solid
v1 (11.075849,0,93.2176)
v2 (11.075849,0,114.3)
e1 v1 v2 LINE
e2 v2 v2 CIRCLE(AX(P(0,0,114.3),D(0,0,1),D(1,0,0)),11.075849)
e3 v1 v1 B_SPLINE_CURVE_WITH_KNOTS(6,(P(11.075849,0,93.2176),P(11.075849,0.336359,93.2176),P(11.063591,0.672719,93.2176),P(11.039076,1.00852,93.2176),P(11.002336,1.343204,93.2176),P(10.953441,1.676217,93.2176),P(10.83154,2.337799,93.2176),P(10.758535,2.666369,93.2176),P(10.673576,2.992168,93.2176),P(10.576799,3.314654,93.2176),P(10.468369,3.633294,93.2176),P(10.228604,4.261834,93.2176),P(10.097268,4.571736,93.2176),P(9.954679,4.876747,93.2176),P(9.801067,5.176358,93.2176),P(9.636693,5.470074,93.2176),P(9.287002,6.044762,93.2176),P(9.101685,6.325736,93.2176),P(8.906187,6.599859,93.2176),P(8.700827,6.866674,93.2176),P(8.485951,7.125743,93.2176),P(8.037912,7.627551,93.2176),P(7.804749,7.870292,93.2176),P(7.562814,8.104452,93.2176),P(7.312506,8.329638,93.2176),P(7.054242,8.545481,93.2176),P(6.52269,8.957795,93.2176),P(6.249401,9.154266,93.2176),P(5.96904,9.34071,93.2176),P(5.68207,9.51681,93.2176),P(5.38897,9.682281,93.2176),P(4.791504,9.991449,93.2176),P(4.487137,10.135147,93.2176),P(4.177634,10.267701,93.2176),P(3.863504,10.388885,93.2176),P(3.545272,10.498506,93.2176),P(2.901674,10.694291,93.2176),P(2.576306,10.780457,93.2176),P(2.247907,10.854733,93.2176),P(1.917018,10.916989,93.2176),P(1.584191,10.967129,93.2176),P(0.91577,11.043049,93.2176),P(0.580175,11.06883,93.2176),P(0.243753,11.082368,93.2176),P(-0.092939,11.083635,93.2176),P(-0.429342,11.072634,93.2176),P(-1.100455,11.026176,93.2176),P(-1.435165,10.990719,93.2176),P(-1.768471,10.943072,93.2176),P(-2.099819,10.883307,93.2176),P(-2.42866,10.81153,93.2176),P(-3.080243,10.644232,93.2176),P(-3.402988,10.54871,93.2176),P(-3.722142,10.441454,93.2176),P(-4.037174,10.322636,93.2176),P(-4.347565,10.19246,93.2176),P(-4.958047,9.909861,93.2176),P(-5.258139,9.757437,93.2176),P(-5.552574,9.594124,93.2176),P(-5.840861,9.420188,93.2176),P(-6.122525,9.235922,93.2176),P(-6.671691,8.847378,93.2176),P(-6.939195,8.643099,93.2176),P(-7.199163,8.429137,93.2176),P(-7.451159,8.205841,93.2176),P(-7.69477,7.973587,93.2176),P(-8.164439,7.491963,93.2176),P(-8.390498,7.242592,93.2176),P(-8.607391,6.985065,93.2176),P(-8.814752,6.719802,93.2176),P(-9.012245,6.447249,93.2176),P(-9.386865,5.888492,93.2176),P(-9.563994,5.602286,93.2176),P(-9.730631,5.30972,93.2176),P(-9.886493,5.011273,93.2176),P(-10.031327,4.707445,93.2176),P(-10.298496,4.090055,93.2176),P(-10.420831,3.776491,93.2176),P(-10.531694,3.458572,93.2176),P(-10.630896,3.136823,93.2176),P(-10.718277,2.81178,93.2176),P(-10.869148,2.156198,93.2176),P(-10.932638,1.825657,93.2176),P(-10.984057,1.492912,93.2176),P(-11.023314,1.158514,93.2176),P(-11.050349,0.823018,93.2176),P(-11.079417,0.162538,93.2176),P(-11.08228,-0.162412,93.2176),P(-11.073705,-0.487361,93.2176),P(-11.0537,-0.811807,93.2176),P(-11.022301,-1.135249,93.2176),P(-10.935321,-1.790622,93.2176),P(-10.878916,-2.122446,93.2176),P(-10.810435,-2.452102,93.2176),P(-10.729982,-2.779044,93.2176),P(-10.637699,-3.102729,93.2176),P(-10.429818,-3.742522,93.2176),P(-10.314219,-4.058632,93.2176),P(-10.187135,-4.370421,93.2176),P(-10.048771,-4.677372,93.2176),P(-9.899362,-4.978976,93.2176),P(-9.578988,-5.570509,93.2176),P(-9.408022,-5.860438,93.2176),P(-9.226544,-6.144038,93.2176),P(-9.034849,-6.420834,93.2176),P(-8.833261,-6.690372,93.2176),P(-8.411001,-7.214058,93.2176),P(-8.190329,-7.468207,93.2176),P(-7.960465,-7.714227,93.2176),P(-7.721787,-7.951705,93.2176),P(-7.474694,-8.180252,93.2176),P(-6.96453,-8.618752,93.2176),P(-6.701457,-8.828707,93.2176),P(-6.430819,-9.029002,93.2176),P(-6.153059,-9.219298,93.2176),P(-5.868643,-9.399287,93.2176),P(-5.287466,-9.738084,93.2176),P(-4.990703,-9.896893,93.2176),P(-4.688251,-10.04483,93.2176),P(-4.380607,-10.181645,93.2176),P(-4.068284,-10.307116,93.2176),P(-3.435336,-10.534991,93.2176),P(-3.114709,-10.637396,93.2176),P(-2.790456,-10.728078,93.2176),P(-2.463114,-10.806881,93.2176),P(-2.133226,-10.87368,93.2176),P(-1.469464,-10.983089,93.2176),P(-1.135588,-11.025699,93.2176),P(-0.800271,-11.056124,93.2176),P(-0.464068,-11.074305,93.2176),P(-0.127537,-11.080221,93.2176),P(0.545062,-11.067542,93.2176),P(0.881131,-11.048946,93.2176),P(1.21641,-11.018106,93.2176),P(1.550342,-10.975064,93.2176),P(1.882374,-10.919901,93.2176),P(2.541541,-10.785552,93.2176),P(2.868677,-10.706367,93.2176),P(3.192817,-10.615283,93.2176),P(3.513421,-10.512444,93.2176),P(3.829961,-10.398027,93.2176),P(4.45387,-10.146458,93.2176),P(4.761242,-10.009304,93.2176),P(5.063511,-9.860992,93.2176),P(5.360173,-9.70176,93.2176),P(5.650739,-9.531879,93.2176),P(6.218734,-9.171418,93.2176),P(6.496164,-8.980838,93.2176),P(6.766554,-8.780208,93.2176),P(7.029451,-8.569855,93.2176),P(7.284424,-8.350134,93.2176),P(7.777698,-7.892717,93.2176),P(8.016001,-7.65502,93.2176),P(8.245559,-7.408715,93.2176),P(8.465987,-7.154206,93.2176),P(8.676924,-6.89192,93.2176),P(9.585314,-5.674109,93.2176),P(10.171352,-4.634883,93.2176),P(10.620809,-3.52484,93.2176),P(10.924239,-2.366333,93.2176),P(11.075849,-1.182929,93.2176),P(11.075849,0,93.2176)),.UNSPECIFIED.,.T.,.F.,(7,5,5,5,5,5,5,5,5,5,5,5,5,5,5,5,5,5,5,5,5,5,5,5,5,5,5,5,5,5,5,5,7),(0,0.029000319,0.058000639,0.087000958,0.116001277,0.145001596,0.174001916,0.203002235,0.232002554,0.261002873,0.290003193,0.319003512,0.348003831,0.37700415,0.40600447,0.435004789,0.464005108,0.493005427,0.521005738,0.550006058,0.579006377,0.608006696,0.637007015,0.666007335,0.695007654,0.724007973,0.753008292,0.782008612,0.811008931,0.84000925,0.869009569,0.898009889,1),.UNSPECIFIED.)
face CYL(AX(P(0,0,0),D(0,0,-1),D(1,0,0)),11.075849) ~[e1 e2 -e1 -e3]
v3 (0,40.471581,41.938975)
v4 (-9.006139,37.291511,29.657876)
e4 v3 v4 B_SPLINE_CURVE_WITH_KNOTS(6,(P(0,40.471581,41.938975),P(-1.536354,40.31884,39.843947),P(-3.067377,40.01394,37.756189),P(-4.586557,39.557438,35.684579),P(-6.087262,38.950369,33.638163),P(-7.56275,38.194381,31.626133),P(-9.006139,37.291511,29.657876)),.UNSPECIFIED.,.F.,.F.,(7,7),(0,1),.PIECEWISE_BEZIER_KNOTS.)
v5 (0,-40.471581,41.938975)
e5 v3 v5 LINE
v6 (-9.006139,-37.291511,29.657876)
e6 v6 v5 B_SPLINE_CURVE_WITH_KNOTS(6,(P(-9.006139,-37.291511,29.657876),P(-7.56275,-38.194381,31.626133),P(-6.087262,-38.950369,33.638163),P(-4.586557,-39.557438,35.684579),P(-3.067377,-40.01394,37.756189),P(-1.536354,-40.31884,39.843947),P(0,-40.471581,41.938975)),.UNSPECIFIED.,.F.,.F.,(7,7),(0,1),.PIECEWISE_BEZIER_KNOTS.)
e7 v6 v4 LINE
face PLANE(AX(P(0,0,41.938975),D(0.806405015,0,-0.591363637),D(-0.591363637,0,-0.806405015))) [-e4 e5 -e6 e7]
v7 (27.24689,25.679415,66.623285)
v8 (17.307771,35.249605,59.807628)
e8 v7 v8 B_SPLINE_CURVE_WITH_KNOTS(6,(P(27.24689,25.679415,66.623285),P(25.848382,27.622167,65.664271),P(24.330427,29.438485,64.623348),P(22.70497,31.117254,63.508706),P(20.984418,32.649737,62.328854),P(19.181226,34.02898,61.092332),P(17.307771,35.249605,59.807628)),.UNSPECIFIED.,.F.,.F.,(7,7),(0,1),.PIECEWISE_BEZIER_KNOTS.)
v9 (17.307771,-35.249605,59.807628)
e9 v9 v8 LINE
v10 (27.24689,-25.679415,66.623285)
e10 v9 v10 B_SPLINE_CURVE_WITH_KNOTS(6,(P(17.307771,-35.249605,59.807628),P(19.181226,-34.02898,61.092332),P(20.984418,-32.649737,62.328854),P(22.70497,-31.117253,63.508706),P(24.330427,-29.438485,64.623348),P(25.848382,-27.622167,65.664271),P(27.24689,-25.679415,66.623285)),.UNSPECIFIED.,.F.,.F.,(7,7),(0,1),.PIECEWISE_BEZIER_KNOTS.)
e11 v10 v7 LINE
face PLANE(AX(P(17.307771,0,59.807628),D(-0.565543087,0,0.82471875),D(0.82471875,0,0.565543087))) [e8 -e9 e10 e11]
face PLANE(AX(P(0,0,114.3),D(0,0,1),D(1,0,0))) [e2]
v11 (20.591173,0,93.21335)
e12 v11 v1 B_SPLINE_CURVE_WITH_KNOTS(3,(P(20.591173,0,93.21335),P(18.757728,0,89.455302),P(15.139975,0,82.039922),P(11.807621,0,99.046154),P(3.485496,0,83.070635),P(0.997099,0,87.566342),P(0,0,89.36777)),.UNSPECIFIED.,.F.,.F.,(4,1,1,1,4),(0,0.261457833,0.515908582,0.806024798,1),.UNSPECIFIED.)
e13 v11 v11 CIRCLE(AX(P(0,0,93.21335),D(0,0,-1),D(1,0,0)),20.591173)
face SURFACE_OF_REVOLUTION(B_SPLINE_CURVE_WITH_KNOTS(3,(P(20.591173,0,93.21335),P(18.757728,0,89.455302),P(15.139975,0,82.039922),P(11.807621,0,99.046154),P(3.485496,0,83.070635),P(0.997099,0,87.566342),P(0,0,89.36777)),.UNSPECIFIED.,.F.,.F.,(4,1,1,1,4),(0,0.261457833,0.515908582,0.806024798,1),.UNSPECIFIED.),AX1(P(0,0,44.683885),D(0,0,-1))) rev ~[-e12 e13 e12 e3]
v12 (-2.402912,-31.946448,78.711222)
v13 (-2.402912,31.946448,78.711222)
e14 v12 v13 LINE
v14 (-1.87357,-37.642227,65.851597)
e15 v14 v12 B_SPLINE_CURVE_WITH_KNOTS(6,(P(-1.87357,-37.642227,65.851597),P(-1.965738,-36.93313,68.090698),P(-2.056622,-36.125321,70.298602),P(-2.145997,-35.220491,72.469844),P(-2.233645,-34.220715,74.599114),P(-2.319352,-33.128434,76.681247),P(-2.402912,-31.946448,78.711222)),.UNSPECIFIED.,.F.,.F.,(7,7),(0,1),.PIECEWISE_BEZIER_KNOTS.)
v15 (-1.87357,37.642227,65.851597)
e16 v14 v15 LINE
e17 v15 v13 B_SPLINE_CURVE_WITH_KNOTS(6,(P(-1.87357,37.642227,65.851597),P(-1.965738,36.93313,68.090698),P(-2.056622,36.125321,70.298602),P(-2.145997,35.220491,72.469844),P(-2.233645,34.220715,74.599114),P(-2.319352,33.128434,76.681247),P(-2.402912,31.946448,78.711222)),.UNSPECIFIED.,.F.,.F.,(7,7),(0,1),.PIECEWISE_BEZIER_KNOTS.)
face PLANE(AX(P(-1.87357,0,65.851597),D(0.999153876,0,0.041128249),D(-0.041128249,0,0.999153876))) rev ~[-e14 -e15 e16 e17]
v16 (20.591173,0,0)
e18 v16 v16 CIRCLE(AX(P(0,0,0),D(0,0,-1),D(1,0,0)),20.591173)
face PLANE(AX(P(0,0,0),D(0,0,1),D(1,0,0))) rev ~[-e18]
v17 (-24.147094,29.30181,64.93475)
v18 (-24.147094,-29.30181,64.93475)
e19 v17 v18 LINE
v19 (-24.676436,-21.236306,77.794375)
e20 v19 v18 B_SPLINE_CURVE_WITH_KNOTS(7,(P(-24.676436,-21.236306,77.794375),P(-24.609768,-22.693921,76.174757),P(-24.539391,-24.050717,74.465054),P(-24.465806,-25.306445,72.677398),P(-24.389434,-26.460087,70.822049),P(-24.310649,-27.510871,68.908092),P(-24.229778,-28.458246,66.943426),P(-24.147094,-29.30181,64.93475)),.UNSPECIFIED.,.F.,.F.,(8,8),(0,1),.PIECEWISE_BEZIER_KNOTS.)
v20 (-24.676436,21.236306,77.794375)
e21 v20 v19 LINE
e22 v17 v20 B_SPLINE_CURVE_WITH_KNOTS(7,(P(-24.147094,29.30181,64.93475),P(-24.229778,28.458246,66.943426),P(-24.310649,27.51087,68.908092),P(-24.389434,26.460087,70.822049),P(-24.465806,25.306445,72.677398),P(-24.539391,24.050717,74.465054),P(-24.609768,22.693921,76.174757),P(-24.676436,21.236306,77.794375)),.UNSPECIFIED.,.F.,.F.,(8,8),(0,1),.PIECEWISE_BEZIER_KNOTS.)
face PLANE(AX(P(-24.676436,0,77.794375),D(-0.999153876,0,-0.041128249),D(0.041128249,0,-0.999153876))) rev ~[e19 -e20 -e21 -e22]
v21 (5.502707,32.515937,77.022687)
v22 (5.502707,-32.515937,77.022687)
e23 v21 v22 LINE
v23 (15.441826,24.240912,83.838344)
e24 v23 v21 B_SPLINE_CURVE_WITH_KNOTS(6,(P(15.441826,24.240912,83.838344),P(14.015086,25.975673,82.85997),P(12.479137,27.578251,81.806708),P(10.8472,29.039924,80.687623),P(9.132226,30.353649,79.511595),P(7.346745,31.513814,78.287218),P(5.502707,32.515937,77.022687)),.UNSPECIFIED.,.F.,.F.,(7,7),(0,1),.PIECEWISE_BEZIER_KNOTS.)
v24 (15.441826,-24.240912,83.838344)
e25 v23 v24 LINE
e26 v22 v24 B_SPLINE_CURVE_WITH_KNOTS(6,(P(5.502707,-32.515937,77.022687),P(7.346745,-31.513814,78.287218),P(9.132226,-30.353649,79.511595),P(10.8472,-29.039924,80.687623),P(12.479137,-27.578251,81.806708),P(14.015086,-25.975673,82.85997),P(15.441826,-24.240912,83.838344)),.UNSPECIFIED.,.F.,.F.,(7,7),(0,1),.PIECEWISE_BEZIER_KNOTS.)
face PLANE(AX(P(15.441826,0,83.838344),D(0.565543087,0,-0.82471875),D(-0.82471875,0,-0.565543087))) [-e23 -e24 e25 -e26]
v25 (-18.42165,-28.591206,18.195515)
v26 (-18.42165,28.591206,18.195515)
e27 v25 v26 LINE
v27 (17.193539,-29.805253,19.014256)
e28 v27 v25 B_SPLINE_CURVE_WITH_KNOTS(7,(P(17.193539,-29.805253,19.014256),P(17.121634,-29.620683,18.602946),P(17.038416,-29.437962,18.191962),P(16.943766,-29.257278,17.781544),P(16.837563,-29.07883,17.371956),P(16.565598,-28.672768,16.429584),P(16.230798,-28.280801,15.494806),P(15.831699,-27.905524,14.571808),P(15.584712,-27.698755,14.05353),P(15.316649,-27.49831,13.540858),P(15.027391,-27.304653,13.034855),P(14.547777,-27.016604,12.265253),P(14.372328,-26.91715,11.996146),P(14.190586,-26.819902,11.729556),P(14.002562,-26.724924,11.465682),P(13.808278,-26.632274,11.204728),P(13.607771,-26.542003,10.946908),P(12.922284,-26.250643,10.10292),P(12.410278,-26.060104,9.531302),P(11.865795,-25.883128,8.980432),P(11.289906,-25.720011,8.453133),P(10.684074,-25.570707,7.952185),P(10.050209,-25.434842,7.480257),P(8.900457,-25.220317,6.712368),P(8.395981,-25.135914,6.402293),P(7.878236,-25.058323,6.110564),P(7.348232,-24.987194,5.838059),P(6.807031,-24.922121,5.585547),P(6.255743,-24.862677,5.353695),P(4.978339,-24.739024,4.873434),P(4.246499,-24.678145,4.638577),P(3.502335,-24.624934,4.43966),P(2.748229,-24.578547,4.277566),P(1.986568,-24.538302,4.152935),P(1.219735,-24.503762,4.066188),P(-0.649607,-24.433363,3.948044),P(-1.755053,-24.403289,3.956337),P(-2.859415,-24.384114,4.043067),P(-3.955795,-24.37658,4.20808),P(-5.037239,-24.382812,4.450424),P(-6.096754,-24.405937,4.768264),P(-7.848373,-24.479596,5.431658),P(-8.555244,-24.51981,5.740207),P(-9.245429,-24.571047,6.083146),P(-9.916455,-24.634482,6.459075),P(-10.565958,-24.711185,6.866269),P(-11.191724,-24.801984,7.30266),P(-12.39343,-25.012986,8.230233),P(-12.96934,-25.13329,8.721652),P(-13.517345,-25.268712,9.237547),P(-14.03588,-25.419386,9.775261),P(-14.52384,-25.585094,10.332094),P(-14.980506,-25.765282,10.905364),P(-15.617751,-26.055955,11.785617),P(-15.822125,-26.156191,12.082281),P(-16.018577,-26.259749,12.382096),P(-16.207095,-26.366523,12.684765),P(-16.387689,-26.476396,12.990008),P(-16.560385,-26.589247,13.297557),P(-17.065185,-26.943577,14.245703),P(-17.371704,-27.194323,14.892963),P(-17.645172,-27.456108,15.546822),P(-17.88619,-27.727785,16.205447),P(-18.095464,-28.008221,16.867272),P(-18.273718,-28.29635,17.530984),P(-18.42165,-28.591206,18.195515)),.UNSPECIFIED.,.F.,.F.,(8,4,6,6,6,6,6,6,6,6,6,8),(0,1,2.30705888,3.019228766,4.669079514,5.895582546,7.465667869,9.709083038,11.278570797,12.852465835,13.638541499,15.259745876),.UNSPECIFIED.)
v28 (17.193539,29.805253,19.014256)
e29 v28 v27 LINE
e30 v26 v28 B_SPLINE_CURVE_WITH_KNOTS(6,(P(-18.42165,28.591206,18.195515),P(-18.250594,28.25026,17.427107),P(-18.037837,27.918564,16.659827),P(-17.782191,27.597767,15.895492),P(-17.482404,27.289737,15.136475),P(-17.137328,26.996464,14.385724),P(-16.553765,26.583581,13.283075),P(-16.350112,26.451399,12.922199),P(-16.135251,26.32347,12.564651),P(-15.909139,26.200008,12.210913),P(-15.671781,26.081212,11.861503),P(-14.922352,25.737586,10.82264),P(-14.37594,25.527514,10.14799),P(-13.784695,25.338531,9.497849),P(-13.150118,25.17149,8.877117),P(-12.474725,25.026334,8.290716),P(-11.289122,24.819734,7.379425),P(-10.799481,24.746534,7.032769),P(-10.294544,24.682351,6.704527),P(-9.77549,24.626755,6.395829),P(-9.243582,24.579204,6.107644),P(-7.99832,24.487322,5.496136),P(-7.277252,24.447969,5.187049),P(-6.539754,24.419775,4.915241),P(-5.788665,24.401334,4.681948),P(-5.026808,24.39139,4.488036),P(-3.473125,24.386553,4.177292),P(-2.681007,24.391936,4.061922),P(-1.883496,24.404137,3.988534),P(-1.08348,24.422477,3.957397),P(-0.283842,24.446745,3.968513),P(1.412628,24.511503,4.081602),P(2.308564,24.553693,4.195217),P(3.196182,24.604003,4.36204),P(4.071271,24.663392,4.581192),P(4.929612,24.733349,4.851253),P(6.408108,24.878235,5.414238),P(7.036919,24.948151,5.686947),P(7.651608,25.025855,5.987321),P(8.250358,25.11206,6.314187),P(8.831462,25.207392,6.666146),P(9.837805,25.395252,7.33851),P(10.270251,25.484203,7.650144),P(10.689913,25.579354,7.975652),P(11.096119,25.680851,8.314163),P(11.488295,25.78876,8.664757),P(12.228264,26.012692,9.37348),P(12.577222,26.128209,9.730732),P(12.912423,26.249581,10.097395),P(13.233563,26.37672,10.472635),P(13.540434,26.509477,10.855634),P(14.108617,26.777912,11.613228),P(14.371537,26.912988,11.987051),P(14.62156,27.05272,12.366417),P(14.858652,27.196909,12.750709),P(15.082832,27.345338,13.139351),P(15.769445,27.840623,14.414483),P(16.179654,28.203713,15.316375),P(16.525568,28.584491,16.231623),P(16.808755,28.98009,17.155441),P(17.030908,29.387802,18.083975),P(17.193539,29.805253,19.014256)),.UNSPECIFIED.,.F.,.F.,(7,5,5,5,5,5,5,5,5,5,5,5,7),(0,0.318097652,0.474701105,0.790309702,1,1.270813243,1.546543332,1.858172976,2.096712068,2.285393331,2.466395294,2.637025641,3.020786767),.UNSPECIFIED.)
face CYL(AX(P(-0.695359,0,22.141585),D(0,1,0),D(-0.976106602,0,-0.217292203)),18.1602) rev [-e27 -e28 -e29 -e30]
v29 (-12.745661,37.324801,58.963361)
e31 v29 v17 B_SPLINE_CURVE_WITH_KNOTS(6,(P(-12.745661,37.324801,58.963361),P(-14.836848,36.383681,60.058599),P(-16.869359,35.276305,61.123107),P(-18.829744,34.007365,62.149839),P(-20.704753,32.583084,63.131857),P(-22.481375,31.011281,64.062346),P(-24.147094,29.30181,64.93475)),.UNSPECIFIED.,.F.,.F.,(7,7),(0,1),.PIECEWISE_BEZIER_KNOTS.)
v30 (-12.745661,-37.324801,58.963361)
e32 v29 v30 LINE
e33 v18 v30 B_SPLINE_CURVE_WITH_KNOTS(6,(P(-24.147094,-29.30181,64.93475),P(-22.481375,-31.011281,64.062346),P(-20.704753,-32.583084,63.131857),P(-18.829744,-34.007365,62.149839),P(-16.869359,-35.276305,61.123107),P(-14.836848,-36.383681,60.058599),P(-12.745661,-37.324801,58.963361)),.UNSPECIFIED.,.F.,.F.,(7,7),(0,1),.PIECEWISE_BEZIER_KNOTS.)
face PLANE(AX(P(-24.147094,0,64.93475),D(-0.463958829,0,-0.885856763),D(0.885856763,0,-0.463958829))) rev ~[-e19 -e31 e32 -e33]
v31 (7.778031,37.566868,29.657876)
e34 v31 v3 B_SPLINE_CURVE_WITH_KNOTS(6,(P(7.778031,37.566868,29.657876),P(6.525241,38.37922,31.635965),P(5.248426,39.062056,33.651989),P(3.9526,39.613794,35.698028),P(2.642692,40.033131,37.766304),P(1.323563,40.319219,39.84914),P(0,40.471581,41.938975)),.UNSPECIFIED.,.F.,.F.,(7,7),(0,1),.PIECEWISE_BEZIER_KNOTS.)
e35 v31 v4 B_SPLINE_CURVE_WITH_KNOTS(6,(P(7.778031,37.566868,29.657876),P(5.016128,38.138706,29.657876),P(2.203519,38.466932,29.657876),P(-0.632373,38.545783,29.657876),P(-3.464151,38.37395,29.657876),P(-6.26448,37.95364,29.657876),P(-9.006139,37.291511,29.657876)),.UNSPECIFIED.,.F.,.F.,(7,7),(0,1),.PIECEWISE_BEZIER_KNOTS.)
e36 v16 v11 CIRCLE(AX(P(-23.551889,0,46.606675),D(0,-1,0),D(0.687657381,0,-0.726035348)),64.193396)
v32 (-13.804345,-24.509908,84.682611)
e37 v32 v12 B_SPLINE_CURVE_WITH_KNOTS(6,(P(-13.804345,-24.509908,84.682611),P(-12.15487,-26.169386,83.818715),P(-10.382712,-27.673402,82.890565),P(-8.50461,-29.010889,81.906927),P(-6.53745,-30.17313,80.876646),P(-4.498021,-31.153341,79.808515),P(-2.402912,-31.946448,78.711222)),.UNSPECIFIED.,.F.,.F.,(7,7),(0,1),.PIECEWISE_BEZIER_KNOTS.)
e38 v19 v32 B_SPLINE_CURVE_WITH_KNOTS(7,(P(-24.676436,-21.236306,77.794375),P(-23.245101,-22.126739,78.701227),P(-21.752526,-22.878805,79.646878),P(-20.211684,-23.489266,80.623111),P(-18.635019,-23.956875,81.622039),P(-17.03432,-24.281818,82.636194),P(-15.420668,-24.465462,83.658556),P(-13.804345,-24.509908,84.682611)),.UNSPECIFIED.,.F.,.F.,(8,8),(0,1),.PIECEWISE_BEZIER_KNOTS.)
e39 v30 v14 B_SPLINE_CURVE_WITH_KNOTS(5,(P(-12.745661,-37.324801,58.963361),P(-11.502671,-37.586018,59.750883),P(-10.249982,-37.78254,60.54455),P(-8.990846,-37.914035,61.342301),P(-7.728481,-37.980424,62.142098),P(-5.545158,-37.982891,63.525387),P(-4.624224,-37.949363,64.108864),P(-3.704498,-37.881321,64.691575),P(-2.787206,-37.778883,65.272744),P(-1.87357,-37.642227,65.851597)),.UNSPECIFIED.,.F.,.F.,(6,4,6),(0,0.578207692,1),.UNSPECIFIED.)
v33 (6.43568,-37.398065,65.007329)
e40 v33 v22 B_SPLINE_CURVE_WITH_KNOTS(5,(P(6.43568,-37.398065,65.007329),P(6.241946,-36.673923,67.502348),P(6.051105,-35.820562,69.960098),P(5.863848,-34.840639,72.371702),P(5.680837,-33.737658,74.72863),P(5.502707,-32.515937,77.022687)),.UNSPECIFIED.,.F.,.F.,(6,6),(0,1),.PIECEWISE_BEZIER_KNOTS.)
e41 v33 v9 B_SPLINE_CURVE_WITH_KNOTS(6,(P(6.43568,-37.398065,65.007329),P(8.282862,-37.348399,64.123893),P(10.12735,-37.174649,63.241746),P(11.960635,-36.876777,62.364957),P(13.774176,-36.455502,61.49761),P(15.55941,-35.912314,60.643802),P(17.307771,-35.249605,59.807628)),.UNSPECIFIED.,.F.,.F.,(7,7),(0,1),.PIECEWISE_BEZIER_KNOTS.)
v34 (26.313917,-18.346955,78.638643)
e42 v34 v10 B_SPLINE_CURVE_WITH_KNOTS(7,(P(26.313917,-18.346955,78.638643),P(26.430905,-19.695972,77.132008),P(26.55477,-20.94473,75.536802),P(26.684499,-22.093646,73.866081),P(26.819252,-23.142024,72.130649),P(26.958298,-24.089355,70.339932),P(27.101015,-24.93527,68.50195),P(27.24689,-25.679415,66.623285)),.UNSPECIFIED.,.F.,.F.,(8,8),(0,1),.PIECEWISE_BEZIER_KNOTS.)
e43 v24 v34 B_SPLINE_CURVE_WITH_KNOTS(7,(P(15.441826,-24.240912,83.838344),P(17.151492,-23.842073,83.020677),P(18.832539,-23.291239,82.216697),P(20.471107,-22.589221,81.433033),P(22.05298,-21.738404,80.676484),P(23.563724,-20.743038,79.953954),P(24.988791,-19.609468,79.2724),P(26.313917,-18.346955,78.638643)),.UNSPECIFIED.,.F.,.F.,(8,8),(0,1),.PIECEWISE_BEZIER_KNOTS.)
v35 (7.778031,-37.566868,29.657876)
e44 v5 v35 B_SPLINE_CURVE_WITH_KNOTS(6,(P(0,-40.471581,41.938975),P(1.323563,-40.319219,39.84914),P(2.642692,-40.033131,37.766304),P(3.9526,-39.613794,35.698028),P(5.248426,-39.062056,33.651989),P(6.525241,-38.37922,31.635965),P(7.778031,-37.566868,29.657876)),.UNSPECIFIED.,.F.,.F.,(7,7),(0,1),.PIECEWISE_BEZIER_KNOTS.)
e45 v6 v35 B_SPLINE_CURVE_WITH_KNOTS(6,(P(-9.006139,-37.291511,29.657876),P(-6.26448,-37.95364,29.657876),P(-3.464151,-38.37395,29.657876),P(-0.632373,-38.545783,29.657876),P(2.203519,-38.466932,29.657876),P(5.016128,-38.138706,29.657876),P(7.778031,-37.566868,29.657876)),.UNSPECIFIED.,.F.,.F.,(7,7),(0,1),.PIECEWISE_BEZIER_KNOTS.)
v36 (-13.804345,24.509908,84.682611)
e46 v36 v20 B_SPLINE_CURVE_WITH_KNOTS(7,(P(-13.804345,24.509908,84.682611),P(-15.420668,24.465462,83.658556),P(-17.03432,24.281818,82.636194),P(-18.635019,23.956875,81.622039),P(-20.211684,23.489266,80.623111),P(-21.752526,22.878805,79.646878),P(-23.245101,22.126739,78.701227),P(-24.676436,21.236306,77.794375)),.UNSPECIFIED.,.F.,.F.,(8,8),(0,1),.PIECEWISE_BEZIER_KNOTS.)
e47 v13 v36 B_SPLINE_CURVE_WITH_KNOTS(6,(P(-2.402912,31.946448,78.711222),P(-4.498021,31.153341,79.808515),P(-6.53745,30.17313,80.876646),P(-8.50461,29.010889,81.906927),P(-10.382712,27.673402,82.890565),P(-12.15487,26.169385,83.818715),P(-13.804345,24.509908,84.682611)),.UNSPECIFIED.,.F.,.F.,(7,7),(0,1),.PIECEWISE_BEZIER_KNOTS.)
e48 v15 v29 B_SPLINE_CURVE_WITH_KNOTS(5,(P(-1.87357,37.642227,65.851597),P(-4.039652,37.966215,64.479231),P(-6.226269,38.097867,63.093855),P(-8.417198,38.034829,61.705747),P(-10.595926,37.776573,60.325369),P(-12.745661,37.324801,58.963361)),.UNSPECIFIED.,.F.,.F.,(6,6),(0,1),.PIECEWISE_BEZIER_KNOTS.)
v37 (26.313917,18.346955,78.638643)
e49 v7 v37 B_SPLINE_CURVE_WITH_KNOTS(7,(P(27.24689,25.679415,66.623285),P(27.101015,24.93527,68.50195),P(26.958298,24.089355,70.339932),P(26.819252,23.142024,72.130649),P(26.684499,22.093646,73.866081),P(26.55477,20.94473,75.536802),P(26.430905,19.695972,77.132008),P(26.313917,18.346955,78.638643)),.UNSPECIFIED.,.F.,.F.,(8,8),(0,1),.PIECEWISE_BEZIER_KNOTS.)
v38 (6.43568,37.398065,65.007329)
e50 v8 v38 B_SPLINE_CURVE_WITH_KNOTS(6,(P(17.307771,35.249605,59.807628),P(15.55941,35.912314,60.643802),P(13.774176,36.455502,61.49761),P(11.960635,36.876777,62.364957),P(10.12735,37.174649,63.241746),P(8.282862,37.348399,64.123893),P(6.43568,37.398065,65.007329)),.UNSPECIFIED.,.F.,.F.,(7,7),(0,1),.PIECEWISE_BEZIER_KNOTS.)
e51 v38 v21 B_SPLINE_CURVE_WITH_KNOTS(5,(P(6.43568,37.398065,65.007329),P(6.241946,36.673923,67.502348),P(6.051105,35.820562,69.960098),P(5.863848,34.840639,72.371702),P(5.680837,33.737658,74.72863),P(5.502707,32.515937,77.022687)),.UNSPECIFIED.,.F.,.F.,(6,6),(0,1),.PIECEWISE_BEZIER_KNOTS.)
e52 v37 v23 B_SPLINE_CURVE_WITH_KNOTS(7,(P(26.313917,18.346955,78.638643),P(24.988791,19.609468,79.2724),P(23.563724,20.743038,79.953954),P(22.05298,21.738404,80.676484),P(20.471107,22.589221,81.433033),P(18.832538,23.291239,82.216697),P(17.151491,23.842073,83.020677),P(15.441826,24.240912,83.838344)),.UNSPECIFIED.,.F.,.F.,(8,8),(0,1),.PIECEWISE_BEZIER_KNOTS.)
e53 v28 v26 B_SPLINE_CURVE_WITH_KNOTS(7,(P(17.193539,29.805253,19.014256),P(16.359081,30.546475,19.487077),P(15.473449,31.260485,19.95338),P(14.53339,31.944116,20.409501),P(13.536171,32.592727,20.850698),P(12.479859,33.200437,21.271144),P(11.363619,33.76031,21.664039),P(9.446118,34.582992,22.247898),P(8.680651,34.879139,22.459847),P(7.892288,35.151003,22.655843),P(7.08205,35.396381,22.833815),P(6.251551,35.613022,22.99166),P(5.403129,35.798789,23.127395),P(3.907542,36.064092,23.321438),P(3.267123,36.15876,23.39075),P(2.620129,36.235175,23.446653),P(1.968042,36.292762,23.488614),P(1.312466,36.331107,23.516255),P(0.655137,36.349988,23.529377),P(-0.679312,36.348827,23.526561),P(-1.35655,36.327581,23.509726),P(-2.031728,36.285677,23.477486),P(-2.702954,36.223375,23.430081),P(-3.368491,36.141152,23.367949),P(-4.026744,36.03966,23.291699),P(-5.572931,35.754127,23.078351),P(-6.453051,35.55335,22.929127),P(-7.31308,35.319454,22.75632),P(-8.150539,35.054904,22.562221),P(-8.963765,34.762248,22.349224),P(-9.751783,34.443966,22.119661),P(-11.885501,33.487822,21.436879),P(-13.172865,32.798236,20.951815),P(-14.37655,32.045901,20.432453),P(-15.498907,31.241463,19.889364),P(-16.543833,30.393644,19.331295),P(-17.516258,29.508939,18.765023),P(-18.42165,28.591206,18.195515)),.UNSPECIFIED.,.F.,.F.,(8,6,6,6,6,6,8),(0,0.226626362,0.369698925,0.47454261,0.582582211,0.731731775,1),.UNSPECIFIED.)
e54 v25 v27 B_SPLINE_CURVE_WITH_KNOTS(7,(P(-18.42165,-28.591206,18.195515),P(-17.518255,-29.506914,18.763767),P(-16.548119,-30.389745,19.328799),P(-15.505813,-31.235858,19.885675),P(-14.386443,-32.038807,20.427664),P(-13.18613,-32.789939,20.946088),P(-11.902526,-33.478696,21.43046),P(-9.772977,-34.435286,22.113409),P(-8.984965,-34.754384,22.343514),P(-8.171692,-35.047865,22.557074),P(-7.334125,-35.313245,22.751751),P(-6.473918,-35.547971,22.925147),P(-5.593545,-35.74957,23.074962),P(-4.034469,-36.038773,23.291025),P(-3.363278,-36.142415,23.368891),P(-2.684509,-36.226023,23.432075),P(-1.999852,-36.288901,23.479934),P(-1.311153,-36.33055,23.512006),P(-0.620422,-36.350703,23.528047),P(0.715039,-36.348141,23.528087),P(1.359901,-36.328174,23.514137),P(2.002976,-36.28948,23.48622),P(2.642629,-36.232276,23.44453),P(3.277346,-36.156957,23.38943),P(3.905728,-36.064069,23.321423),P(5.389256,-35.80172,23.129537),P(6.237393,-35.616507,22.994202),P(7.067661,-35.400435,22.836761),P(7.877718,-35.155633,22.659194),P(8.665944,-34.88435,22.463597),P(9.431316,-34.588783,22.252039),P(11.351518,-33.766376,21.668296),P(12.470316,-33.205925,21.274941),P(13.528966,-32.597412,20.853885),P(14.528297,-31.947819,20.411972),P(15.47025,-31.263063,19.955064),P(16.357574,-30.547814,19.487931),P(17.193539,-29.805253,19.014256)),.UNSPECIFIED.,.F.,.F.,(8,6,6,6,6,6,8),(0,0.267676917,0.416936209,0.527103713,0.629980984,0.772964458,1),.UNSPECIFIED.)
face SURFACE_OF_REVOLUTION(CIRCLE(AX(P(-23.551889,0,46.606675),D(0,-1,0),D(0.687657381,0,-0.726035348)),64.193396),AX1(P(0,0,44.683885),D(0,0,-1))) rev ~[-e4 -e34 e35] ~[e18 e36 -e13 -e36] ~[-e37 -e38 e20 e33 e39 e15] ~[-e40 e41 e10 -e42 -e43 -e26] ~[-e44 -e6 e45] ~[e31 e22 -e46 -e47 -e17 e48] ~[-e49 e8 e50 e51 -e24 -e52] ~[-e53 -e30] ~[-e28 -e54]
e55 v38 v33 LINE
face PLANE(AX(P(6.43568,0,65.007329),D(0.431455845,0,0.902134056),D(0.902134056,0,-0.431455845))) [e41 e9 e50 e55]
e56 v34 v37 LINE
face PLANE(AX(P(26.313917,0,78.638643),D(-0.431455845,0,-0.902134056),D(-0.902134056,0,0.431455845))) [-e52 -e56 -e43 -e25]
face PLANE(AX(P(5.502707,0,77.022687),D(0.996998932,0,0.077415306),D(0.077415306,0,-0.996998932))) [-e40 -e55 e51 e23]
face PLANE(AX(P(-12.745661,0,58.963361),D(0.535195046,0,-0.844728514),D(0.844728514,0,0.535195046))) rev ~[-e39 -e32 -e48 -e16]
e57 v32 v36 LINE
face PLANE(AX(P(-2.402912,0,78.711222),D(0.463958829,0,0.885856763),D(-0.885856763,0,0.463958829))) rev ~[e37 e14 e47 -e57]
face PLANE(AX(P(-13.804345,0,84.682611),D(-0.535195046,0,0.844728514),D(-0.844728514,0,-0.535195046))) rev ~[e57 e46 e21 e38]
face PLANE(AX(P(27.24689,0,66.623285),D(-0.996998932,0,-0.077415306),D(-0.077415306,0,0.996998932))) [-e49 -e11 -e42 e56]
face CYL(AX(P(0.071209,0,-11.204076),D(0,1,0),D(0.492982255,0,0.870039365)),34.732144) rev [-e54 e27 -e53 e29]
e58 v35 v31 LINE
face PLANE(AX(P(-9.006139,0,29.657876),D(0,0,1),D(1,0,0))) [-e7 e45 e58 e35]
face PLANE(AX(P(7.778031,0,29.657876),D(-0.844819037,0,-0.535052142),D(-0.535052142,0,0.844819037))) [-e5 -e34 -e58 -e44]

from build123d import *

# Parameters (mm, degrees)
F2_R     = 11.0758489904
F3_DEPTH = 114.3
F5_DEPTH = 469.9


with BuildPart() as f1:
    # F0 (on Front) → F1 (revolve)
    with BuildSketch(Plane.XZ):
        with BuildLine():
            Line((0, 89.3677696586), (0, 0))
            Line((0, 0), (20.591173321, 0))
            ThreePointArc((20.591173321, 0), (40.6415068424, 46.6066747904), (20.591173321, 93.2133495808))
            add(Edge.make_bspline(
                [(20.591173321, 93.2133495808), (18.7577284682, 89.4553018013), (15.1399751822, 82.0399221226), (11.807621021, 99.0461535157), (3.4854955303, 83.0706354136), (0.9970992228, 87.5663421121), (0, 89.3677696586)],
                knots=[0, 0, 0, 0, 0.261457833, 0.5159085822, 0.806024798, 1, 1, 1, 1], degree=3))
        make_face()
    revolve(axis=Axis((0, 0, 44.6838848293), (0, 0, -1)))

    # F2 (on Top) → F3 (join)
    with BuildSketch(Plane.XY):
        Circle(F2_R)
    extrude(amount=F3_DEPTH)

    # F4 (on Front) → F5 (cut, symmetric)
    with BuildSketch(Plane.XZ):
        Polygon((26.3139173462, 78.638642816), (15.4418259786, 83.8383438307), (5.502707124, 77.0226870214), (6.435679637, 65.0073291975), (17.3077710046, 59.8076281828), (27.2468898592, 66.6232849921), align=None)
        Polygon((7.7780308202, 29.657876119), (0, 41.9389754534), (-9.006138891, 29.657876119), align=None)
        with BuildLine():
            ThreePointArc((-18.4216499329, 18.1955154985), (-0.2779930332, 3.9861821268), (17.1935390681, 19.014256075))
            ThreePointArc((17.1935390681, 19.014256075), (-0.7270212138, 23.5188936817), (-18.4216499329, 18.1955154985))
        make_face()
        Polygon((-13.8043448256, 84.6826113726), (-24.6764361932, 77.794375274), (-24.1470944283, 64.9347499081), (-12.7456612958, 58.9633606408), (-1.8735699282, 65.8515967395), (-2.4029116931, 78.7112221054), align=None)
    extrude(amount=F5_DEPTH, both=True, mode=Mode.SUBTRACT)


solid = f1.part
